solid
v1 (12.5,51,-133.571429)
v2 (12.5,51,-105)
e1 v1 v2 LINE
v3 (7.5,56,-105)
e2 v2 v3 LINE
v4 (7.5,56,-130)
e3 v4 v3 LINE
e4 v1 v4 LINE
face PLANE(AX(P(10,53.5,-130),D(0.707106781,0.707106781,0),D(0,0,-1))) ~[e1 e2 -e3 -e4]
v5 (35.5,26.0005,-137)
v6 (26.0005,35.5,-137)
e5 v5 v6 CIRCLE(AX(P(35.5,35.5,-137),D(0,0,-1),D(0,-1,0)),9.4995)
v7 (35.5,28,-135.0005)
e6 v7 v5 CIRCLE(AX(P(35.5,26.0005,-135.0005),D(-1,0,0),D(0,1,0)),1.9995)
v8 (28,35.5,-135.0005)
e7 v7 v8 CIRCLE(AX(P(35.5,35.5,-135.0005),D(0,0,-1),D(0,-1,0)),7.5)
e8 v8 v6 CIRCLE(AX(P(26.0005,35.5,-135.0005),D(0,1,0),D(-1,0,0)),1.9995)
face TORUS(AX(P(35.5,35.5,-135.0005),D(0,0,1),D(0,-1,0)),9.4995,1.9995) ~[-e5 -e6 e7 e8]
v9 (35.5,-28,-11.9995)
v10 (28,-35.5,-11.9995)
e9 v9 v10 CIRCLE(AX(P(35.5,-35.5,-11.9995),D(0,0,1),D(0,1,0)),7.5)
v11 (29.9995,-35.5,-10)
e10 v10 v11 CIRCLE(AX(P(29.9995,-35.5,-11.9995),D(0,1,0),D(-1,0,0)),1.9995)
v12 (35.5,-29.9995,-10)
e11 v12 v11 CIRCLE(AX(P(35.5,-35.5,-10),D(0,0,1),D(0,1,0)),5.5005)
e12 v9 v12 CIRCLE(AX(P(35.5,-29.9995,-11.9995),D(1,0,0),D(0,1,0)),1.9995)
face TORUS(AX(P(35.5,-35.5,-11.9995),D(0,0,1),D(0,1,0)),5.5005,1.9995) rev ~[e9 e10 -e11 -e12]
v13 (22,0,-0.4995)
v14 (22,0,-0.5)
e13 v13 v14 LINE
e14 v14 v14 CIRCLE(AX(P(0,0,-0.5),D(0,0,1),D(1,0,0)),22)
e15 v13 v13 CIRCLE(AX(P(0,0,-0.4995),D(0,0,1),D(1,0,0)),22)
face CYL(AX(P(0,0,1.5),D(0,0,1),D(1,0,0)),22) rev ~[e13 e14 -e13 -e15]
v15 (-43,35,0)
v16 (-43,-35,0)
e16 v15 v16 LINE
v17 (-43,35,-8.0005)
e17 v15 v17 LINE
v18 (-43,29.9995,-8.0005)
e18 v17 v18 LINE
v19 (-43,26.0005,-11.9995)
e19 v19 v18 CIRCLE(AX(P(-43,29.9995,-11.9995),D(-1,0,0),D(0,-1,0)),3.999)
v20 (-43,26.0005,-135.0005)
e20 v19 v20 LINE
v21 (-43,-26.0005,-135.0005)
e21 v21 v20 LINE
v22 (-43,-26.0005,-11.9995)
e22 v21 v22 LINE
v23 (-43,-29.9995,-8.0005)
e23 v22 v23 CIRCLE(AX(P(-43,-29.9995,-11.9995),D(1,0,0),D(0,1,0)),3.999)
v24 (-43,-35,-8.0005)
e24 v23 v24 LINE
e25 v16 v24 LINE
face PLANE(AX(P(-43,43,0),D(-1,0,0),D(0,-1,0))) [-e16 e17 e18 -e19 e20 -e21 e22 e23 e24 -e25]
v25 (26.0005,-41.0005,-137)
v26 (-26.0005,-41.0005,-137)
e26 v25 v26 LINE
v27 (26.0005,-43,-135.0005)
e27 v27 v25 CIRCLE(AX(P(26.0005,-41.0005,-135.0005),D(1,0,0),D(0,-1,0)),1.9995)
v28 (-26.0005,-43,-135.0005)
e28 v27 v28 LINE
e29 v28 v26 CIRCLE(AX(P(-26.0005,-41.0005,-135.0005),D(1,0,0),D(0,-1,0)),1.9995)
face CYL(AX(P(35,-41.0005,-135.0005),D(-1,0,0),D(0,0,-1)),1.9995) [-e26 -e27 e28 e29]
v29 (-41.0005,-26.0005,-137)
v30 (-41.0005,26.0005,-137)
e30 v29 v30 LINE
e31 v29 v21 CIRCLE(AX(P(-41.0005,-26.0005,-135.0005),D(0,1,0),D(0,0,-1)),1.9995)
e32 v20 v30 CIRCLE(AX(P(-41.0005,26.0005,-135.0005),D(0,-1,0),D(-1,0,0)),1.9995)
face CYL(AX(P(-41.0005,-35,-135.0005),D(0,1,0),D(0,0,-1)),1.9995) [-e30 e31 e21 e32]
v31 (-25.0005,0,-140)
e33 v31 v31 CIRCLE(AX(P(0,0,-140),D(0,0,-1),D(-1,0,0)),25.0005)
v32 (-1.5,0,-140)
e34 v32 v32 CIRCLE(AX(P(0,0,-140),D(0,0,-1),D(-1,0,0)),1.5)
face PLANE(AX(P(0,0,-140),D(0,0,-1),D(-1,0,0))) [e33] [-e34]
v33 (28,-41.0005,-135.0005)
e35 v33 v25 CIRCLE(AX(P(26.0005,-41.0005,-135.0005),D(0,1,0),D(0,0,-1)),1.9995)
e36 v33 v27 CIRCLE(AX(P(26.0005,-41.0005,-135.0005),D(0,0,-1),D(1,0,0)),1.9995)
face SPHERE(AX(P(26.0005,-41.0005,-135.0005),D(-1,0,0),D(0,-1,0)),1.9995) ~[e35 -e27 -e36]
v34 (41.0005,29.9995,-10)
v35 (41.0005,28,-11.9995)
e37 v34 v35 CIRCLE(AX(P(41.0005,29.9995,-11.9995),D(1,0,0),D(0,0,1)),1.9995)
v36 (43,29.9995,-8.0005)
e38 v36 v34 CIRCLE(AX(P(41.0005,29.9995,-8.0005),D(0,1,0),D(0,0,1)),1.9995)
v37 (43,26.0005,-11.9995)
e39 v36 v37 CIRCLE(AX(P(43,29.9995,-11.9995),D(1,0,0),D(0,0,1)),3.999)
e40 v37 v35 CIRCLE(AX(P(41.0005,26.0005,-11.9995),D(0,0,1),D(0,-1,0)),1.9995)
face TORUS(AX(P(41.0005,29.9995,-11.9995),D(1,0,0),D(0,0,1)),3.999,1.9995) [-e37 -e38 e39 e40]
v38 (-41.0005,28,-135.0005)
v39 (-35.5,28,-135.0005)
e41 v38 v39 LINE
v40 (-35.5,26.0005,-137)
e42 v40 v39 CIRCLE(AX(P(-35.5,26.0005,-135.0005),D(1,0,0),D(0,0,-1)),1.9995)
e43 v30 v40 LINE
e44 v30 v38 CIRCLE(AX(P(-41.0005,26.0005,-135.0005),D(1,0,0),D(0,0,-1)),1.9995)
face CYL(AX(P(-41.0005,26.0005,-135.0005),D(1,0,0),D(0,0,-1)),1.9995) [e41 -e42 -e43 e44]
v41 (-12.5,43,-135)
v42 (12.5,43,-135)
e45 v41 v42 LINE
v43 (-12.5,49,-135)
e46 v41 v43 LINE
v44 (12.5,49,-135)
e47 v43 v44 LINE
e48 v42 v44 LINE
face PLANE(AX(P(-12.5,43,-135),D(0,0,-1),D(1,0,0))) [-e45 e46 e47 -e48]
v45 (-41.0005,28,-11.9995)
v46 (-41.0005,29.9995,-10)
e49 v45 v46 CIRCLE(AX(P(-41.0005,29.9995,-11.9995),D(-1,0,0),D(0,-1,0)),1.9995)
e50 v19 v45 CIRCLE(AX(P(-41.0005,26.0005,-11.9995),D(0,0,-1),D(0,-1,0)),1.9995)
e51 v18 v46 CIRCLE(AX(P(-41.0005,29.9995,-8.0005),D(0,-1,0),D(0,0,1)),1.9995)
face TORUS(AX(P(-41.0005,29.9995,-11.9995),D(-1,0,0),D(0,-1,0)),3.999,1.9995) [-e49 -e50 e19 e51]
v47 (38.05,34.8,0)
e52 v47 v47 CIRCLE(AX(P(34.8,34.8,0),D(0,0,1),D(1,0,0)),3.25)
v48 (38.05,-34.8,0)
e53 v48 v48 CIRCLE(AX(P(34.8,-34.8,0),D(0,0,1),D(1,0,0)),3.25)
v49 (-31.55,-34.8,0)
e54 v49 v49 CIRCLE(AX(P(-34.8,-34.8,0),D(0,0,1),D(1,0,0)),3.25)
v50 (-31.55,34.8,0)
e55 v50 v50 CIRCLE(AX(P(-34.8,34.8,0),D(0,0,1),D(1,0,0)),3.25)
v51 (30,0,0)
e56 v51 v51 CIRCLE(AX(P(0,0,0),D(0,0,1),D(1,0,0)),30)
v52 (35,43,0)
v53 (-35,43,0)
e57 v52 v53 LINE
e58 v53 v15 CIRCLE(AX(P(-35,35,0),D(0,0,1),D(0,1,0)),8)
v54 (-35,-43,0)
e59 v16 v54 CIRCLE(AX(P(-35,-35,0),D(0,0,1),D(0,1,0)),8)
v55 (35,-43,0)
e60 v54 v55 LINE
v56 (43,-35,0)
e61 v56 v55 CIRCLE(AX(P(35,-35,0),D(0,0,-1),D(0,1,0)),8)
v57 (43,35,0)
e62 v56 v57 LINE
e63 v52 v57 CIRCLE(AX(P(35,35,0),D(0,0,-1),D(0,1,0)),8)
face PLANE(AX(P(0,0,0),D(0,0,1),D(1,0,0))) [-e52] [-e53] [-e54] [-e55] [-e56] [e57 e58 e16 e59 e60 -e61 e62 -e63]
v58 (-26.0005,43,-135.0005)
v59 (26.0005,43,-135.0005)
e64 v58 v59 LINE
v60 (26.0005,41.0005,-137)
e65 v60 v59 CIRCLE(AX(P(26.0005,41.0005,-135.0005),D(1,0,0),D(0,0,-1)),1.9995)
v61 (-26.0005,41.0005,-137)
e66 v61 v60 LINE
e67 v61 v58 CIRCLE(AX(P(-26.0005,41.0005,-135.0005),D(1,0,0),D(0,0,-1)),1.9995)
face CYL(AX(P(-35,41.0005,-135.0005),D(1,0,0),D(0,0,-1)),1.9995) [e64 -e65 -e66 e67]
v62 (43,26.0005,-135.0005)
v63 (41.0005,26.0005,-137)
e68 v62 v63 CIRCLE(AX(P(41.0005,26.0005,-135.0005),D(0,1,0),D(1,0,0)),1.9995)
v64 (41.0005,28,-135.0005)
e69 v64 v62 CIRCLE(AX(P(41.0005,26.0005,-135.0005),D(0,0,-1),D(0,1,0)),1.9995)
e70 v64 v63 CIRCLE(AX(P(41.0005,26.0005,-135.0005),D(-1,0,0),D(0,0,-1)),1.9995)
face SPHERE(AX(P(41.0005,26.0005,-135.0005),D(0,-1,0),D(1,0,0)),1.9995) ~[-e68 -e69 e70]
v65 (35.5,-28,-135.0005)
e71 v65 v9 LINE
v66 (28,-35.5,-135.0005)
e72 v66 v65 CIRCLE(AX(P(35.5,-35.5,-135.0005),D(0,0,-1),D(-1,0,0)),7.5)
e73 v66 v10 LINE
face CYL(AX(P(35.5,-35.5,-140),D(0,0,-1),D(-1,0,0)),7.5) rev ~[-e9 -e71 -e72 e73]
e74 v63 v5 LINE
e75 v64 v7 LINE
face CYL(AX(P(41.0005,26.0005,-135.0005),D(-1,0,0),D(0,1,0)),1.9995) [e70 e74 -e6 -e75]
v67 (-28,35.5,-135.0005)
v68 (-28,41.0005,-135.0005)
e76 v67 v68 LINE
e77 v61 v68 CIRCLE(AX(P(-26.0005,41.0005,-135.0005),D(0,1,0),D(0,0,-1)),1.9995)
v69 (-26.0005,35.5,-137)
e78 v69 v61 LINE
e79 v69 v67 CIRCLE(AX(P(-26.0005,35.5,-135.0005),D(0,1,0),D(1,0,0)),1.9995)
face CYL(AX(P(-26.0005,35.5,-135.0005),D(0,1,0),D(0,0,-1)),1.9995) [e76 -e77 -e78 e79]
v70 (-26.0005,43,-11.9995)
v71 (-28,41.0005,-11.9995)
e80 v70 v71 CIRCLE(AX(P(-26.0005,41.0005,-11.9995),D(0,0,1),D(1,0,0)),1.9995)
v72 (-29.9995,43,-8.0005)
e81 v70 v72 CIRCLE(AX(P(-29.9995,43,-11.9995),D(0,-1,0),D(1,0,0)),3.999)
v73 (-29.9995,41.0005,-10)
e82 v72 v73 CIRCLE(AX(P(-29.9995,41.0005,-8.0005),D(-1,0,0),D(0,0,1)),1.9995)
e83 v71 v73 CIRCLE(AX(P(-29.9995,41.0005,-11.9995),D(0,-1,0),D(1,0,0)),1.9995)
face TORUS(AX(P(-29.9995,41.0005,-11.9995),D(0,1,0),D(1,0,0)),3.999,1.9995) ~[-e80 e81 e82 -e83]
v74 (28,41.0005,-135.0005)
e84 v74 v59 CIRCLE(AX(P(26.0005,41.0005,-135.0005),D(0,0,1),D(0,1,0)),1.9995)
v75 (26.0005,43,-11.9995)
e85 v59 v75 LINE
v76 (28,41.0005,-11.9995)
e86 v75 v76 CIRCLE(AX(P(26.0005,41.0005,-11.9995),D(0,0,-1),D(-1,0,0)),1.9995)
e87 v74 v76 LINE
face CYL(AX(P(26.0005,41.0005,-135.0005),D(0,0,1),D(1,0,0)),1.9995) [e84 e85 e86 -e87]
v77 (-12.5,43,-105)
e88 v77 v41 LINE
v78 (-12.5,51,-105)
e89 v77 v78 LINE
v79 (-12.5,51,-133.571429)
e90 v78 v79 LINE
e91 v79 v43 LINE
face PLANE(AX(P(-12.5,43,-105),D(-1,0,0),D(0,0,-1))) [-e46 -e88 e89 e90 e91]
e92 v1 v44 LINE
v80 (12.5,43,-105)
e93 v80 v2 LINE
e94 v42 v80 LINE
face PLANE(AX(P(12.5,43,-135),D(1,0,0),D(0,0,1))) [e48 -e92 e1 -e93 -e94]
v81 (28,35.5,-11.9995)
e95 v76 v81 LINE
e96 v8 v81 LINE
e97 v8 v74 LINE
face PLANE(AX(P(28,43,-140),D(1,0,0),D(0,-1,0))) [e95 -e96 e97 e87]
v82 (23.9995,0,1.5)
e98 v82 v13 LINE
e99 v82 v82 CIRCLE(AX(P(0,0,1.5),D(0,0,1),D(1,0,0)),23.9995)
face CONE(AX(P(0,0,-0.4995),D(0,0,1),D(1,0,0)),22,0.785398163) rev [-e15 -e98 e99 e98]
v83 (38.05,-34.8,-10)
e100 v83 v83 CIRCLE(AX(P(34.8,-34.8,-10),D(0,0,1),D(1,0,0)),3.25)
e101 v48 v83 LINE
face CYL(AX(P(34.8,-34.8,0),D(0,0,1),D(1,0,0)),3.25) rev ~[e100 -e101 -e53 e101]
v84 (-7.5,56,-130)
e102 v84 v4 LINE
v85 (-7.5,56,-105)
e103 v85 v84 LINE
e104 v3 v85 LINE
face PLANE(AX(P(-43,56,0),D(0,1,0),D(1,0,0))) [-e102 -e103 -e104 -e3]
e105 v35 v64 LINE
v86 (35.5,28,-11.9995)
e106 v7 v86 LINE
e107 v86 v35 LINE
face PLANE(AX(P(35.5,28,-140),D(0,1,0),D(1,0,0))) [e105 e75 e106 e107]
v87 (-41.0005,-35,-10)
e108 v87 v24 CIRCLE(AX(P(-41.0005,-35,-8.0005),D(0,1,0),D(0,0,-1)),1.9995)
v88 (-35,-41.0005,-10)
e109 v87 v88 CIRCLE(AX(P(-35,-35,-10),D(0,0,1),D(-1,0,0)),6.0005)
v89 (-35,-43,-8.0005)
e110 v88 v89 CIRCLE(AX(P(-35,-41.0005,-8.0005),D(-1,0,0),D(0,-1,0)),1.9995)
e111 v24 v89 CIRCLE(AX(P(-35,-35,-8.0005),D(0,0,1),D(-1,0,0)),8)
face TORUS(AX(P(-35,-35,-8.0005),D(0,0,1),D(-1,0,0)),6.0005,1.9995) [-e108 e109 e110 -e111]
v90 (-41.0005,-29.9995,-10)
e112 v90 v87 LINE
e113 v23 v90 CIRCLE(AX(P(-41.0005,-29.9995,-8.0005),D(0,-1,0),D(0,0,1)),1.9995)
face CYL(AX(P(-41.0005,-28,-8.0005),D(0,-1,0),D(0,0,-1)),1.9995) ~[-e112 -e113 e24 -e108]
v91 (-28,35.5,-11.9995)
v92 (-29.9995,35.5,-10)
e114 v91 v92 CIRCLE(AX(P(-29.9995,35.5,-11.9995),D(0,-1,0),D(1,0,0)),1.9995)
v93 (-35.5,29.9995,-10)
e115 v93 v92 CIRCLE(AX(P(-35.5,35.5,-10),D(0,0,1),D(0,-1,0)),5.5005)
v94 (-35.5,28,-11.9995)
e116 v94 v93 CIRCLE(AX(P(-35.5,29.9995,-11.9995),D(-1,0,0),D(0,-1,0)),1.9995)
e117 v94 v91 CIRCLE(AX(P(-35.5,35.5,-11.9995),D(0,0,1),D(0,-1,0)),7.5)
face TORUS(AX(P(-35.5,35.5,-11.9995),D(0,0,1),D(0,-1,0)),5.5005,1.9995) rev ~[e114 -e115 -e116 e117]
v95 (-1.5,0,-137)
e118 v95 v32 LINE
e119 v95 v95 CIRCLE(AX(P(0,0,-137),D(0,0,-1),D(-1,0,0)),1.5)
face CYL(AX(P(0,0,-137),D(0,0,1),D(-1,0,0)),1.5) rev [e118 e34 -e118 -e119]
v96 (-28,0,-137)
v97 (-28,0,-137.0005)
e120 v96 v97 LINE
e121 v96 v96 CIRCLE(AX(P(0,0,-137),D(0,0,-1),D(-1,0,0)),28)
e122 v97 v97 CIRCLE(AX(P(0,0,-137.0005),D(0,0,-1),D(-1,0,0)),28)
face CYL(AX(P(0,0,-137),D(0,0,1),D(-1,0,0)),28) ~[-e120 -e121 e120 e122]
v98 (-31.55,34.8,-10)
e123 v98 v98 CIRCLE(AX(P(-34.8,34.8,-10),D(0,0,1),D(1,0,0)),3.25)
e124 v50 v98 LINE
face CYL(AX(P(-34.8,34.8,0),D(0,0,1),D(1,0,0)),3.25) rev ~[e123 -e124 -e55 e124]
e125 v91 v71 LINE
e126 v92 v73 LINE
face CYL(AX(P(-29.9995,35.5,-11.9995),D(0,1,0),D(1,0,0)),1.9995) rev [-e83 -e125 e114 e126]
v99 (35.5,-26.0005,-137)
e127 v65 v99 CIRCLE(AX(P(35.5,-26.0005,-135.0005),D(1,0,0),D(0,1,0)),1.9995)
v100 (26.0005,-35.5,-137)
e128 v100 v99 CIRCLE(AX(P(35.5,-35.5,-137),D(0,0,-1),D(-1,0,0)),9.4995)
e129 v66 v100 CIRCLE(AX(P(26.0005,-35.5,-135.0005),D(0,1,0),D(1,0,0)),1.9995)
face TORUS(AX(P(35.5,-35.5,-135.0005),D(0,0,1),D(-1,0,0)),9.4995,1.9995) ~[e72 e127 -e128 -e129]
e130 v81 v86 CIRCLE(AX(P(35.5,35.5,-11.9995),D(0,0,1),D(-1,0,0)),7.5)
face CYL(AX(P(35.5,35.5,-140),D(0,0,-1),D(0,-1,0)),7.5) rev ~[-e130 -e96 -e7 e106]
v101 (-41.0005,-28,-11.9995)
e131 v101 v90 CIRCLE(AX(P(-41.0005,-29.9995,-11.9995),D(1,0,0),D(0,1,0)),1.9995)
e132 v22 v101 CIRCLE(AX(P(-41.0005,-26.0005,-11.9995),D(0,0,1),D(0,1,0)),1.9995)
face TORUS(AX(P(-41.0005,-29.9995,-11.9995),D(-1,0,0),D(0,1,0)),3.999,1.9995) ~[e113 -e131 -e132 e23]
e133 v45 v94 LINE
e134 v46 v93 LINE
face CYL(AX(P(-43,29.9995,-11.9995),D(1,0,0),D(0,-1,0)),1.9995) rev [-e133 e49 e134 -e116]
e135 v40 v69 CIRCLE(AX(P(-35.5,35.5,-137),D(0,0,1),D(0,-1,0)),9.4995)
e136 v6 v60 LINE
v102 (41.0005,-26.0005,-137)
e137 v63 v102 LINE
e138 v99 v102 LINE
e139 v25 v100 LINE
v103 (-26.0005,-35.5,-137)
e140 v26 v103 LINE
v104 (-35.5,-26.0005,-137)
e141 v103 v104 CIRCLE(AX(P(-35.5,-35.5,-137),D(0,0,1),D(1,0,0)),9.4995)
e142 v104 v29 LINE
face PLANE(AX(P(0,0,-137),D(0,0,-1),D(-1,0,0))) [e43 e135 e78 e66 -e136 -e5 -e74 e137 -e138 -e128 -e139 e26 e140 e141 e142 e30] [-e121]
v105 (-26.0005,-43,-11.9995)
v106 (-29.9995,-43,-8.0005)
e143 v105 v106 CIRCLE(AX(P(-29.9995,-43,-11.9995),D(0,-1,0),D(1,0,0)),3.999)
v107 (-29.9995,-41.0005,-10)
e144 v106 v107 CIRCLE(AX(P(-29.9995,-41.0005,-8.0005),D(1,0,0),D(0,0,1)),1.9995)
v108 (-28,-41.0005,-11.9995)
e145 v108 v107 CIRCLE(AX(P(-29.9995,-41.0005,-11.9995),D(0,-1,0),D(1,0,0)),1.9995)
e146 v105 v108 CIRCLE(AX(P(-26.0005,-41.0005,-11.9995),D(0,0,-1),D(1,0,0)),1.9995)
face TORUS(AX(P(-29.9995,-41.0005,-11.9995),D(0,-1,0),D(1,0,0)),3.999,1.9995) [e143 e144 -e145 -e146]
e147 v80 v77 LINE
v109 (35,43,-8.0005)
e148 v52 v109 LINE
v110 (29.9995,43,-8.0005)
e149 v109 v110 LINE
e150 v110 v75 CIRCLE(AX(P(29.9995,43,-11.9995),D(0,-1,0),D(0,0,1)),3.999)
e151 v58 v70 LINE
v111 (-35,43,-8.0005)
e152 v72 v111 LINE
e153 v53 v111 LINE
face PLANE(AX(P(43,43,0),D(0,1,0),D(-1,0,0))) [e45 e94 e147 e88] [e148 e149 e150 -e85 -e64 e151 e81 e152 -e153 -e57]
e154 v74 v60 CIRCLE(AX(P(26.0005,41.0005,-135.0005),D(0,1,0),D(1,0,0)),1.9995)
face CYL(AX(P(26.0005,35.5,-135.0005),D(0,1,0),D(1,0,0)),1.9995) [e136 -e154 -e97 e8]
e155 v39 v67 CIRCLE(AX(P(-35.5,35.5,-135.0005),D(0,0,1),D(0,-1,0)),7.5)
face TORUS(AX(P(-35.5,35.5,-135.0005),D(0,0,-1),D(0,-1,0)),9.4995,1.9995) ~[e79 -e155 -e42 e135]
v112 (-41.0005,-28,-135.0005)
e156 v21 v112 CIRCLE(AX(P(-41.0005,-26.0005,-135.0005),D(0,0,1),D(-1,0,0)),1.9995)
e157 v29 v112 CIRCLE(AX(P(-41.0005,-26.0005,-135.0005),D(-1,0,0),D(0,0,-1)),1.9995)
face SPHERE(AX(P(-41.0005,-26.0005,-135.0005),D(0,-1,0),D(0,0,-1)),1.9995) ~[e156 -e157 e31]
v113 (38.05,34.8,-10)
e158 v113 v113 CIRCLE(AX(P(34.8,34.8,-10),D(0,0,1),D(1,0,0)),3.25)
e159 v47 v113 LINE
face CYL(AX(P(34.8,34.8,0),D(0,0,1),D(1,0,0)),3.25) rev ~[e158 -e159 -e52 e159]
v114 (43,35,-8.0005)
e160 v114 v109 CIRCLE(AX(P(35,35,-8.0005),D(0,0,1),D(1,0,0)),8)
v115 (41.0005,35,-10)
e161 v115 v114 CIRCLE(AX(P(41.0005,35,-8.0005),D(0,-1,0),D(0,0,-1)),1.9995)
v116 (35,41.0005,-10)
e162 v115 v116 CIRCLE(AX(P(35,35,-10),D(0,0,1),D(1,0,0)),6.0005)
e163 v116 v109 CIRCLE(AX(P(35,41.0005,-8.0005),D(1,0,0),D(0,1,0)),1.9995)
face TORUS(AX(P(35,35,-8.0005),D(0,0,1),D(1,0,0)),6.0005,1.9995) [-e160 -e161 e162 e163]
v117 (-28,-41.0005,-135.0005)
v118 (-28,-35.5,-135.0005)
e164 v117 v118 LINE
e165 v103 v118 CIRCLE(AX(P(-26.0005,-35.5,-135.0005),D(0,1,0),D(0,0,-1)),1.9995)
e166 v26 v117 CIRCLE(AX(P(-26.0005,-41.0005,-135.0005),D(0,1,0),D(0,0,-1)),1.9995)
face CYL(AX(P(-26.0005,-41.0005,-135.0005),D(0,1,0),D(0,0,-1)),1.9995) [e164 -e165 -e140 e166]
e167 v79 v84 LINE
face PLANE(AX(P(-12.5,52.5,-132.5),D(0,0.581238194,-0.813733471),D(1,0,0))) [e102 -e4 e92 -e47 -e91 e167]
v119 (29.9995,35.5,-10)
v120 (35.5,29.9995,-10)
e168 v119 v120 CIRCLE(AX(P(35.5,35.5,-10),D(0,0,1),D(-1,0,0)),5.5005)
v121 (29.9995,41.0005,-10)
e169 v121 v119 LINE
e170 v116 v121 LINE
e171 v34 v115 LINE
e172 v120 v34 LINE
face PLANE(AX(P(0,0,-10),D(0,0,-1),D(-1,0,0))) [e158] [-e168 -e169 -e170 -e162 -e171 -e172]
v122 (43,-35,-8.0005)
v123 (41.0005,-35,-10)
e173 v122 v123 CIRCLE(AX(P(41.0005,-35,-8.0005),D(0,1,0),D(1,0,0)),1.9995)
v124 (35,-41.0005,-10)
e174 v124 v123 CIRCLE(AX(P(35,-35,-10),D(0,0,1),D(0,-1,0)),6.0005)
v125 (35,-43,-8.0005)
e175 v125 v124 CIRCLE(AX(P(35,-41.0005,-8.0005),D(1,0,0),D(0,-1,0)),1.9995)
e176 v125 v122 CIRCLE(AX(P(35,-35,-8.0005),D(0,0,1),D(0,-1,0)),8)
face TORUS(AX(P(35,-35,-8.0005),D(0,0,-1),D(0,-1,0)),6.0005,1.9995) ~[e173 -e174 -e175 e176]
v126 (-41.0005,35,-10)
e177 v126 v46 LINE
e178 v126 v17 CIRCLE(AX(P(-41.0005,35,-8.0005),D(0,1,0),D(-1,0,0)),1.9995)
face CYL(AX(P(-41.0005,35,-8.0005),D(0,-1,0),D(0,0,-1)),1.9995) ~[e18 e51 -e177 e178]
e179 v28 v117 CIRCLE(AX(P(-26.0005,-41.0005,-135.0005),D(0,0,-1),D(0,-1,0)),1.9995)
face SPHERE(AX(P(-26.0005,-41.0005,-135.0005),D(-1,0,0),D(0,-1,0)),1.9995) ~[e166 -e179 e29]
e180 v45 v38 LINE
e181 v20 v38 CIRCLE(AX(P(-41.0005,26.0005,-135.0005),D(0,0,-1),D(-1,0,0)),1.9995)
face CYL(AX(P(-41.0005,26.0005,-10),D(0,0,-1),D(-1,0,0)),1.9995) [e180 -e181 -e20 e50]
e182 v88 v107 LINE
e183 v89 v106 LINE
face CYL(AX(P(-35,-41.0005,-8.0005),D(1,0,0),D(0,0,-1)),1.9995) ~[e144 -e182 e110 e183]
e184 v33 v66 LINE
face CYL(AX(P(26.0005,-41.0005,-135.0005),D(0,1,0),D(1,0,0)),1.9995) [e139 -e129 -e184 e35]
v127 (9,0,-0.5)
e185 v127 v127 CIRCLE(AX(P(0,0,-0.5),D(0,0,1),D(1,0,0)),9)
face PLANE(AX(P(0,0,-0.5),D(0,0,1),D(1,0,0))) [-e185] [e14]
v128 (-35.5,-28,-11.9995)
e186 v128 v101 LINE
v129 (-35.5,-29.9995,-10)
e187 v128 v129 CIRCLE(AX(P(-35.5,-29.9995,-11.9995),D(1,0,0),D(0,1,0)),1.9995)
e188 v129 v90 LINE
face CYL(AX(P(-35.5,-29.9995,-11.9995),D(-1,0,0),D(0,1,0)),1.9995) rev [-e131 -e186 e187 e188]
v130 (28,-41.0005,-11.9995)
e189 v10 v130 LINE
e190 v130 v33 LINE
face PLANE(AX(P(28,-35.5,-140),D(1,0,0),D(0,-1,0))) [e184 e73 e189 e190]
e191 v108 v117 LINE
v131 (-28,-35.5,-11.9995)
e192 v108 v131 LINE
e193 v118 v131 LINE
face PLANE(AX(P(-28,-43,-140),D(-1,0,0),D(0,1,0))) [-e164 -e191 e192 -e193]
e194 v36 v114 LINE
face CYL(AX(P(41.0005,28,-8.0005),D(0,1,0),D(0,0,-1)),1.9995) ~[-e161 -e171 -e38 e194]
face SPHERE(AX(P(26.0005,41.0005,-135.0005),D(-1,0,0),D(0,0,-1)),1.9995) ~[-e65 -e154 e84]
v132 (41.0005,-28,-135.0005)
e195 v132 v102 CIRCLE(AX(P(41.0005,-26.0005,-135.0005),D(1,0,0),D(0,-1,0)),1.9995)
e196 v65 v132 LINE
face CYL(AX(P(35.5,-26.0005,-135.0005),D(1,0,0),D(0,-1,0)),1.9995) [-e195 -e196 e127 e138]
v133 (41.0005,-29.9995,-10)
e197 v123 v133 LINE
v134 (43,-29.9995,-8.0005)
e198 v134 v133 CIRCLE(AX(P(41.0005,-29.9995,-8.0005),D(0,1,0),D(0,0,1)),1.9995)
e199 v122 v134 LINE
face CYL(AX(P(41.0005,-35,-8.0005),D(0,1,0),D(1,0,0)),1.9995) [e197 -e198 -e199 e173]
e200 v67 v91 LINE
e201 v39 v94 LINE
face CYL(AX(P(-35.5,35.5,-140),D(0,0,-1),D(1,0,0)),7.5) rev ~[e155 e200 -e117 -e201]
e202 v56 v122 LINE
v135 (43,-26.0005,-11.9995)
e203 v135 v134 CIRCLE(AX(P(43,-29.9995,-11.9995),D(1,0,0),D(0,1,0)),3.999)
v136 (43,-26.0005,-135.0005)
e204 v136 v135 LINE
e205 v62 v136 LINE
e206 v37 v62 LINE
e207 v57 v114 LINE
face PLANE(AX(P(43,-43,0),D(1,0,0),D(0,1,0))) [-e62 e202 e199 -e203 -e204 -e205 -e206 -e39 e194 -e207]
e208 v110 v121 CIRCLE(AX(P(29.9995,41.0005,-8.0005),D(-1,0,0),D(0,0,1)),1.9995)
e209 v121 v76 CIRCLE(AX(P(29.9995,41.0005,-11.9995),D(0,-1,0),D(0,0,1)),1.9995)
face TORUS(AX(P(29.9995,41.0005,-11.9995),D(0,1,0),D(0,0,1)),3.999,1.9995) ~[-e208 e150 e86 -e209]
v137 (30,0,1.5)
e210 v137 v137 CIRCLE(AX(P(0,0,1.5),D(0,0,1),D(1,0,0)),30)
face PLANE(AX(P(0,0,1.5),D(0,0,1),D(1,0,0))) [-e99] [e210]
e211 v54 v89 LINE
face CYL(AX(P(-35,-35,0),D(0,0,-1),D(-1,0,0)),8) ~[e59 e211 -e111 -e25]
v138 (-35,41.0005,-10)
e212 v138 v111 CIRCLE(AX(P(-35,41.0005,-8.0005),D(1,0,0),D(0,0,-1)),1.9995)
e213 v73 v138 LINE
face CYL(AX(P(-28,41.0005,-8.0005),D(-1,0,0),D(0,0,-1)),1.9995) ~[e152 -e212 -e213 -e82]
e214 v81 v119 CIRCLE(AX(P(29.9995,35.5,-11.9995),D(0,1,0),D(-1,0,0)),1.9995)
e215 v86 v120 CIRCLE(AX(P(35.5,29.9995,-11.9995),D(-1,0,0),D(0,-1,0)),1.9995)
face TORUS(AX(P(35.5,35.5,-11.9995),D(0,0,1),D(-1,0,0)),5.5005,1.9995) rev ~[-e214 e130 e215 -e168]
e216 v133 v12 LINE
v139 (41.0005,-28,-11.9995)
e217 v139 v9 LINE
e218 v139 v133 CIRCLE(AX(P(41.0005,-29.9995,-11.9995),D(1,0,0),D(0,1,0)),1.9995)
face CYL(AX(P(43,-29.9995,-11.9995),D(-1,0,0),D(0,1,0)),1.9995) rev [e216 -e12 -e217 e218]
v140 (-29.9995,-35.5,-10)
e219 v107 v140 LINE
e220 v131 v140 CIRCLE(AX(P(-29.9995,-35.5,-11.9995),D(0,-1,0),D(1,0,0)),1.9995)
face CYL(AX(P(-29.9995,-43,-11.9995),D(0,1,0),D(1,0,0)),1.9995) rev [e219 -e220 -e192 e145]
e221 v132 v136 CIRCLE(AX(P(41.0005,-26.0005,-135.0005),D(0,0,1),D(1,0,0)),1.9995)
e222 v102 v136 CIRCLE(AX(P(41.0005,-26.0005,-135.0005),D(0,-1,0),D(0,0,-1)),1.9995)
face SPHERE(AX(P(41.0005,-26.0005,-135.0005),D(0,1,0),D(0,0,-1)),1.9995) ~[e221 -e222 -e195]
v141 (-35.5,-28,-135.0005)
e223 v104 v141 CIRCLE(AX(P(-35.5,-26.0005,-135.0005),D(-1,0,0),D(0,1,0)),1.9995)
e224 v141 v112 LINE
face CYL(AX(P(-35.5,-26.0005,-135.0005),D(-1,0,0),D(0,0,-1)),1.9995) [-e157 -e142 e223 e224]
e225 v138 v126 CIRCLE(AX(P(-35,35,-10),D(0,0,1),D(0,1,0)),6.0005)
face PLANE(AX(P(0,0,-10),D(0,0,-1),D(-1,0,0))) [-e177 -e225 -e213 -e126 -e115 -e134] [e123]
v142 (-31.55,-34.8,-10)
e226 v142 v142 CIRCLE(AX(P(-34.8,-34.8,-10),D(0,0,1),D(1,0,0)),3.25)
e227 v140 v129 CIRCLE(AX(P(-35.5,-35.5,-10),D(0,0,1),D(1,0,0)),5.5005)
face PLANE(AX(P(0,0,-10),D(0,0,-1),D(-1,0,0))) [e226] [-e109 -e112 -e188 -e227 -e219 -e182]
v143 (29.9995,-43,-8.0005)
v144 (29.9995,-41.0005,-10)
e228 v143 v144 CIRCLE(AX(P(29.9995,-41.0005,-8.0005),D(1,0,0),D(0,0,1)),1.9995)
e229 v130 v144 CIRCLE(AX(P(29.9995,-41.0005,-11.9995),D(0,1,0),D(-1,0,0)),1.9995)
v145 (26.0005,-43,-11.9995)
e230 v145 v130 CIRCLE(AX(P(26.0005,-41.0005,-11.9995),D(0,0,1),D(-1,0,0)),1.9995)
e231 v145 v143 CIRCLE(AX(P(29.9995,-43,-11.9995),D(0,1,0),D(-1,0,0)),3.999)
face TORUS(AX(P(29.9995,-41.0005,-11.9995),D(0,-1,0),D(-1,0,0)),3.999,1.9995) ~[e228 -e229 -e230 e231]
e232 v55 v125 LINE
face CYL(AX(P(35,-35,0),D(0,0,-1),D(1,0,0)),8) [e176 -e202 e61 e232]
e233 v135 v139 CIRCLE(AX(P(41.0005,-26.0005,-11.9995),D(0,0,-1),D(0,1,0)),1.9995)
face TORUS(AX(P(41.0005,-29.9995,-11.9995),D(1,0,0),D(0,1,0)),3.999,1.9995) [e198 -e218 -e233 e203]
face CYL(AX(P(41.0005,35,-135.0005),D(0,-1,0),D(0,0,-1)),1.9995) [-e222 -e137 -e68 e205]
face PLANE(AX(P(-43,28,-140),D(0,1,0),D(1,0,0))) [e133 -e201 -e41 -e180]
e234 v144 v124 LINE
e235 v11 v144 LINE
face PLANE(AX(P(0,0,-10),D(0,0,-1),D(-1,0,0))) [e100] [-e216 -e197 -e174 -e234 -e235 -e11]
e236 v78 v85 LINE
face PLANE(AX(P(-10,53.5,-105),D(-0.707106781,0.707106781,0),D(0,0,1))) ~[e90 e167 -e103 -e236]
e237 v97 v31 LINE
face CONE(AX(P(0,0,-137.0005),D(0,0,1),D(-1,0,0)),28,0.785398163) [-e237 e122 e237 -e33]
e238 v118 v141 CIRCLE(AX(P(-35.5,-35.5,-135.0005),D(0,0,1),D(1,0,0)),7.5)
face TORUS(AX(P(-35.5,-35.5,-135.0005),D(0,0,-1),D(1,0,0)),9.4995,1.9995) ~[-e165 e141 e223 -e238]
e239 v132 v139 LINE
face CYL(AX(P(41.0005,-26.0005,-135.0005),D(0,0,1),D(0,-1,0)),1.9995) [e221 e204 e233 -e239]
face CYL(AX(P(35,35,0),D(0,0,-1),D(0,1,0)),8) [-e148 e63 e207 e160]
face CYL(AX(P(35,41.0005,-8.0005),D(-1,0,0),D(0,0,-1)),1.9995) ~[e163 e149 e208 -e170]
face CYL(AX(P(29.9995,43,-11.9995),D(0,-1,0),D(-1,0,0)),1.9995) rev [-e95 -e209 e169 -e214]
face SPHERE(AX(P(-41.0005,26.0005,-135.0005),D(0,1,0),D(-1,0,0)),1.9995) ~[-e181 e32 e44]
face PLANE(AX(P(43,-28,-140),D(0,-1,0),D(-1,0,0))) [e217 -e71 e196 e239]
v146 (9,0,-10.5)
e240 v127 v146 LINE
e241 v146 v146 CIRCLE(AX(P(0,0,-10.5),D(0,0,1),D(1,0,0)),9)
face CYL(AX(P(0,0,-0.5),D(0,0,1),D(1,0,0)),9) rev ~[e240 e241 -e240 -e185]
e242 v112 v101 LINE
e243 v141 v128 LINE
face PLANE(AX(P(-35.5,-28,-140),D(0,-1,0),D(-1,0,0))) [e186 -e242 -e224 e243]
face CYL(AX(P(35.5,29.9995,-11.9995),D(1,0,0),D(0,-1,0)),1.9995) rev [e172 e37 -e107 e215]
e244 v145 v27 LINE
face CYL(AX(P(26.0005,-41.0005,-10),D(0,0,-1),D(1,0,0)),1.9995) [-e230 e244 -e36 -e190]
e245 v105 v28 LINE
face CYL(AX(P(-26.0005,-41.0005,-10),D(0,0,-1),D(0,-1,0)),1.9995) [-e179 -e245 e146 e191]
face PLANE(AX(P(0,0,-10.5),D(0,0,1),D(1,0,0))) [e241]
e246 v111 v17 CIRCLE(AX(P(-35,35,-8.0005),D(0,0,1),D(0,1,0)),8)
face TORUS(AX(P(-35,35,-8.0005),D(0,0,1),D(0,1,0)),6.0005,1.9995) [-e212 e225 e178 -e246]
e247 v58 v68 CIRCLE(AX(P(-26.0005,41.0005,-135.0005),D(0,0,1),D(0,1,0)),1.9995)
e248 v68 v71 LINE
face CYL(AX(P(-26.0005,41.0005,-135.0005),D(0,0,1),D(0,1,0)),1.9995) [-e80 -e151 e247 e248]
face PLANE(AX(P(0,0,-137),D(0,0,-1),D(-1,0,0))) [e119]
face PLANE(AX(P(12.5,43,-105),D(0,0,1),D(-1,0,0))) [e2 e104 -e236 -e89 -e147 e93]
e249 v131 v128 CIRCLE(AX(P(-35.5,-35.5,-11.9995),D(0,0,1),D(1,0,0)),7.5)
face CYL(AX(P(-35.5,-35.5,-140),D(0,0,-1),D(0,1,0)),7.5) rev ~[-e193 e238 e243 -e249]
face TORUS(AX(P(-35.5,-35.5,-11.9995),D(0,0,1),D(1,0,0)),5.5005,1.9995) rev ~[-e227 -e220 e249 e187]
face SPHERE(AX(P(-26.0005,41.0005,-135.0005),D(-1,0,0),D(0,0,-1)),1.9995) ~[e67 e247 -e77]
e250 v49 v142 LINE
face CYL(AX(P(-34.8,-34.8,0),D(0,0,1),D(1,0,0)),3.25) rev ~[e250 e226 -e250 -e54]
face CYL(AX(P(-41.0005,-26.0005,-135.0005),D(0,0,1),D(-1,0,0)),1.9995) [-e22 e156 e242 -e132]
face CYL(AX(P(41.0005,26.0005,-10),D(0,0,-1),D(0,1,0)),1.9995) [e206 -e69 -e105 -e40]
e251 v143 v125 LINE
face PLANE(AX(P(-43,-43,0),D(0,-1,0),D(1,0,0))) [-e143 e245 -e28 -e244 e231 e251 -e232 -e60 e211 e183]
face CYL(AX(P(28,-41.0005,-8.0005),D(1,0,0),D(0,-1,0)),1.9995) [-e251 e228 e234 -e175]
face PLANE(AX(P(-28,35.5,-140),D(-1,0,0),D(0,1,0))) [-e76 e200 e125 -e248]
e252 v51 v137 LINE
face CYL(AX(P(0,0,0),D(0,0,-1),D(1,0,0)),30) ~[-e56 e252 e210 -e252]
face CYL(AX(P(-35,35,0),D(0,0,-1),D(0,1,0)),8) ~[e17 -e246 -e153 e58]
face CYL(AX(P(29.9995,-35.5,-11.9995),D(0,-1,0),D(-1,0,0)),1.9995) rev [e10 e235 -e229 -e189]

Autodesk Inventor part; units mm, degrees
ref_plane "YZ Plane" through (0, 0, 0) normal (1, 0, 0) x (0, 1, 0)
ref_plane "XZ Plane" through (0, 0, 0) normal (0, 1, 0) x (-1, 0, 0)
sketch "Sketch1" plane through (0, 0, 0) normal (0, 0, 1) x (1, 0, 0)
  line L0 (-43, -43) -> (43, -43)
  line L1 (43, -43) -> (43, 43)
  line L2 (43, 43) -> (-43, 43)
  line L3 (-43, 43) -> (-43, -43)
  point P0 (0, 0)
  point P1 (-43, 0)
  point P2 (0, 43)
  dimension "d0" = 86
  dimension "d1" = 86
extrude "Extrusion1" add sketch "Sketch1" against normal blind 140
sketch "Sketch2" plane through (0, 0, 0) normal (0, 0, 1) x (1, 0, 0)
  line L0 (-43, 43) -> (43, 43) construction
  line L1 (0, 43) -> (0, -43) construction
  line L2 (43, -43) -> (0, -43) construction
  line L3 (43, 43) -> (43, -43) construction
  line L4 (43, 0) -> (-43, 0) construction
  line L5 (-43, 0) -> (-43, 43) construction
  circle A0 centre (0, 0) radius 30
  point P0 (0, 0)
  dimension "d5" = 60
extrude "Extrusion2" add sketch "Sketch2" along normal blind 1.5
sketch "Sketch3" plane through (0, 0, 1.5) normal (0, 0, 1) x (1, 0, 0)
  line L0 (43, 43) -> (-43, 43) construction
  line L1 (0, 43) -> (0, -43) construction
  line L2 (0, -43) -> (43, -43) construction
  line L3 (43, -43) -> (43, 43) construction
  line L4 (43, 0) -> (-43, 0) construction
  line L5 (-43, 43) -> (-43, 0) construction
  circle A0 centre (0, 0) radius 30 projected
  circle A1 centre (0, 0) radius 7
  point P0 (0, 0)
  dimension "d8" = 14
extrude "Extrusion3" add sketch "Sketch3" along normal blind 40 contours A1
hole "Hole1" at (0, 0, 41.5) direction (0, 0, -1) diameter 3 depth 13
ref_plane "Work Plane1" through (-7, 0, 1.5) normal (1, 0, 0) x (0, 1, 0)
sketch "Sketch5" plane through (-7, 0, 1.5) normal (1, 0, 0) x (0, 1, 0)
  line L0 (7, 40) -> (-7, 40) projected
  line L1 (-7, 0) -> (7, 0) projected
  line L2 (7, 0) -> (7, 40) projected
  line L3 (-7, 0) -> (-7, 40) projected
  line L4 (7, 40) -> (-7, 40) projected
  line L5 (-2.5, 17.5) -> (-2.5, 40)
  line L6 (-2.5, 40) -> (2.5, 40)
  line L7 (2.5, 40) -> (2.5, 17.5)
  line L8 (30, 0) -> (-30, 0) construction
  arc A0 (-2.5, 17.5) -> (2.5, 17.5) centre (0, 17.5) ccw
  point P0 (0, -1.5)
  point P1 (0, 15)
extrude "Extrusion4" cut sketch "Sketch5" along normal blind 2.438 contours L7 A0 L5 L0
sketch "Sketch6" plane through (0, 0, -140) normal (0, 0, -1) x (-1, 0, 0)
  circle A0 centre (0, 0) radius 30 projected
  line L0 (-43, 43) -> (-28, 43)
  line L1 (-28, 43) -> (-28, 35.5)
  line L2 (-35.5, 28) -> (-43, 28)
  line L3 (-43, 28) -> (-43, 43)
  arc A1 (-35.5, 28) -> (-28, 35.5) centre (-35.5, 35.5) ccw
  line L4 (-43, -43) -> (-43, -28)
  line L5 (-43, -28) -> (-35.5, -28)
  line L6 (-28, -35.5) -> (-28, -43)
  line L7 (-28, -43) -> (-43, -43)
  arc A2 (-28, -35.5) -> (-35.5, -28) centre (-35.5, -35.5) ccw
  line L8 (43, -43) -> (28, -43)
  line L9 (28, -43) -> (28, -35.5)
  line L10 (35.5, -28) -> (43, -28)
  line L11 (43, -28) -> (43, -43)
  arc A3 (35.5, -28) -> (28, -35.5) centre (35.5, -35.5) ccw
  line L12 (43, 43) -> (43, 28)
  line L13 (43, 28) -> (35.5, 28)
  line L14 (28, 35.5) -> (28, 43)
  line L15 (28, 43) -> (43, 43)
  arc A4 (28, 35.5) -> (35.5, 28) centre (35.5, 35.5) ccw
  dimension "d71" = 15
  dimension "d72" = 15
  dimension "d75" = 360
sketch "Sketch7" plane through (0, 0, 0) normal (0, 0, 1) x (1, 0, 0)
  circle A0 centre (-34.8, -34.8) radius 3.25
  arc A1 (-6.5383, -2.5) -> (-6.5383, 2.5) centre (0, 0) ccw projected
  circle A2 centre (0, 0) radius 1.5 projected
  circle A3 centre (0, 0) radius 30 projected
  circle A4 centre (0, 0) radius 7 projected
  circle A5 centre (0, 0) radius 30 projected
  line L0 (43, 43) -> (-43, 43) construction
  line L1 (0, 43) -> (0, -43) construction
  line L2 (0, -43) -> (43, -43) construction
  line L3 (-43, 43) -> (-43, 0) construction
  line L4 (-43, 0) -> (43, 0) construction
  line L5 (43, -43) -> (43, 43) construction
  circle A6 centre (-34.8, 34.8) radius 3.25
  circle A7 centre (34.8, -34.8) radius 3.25
  circle A8 centre (34.8, 34.8) radius 3.25
  point P0 (0, 0)
  dimension "d36" = 6.5
  dimension "d37" = 69.6
  dimension "d38" = 69.6
extrude "Extrusion6" cut sketch "Sketch7" against normal through all contours A0 | A6 | A7 | A8
sketch "Sketch8" plane through (-43, 43, 0) normal (0, 1, 0) x (1, 0, 0)
  line L0 (30.5, 135) -> (55.5, 135)
  line L1 (55.5, 135) -> (55.5, 105)
  line L2 (55.5, 105) -> (30.5, 105)
  line L3 (30.5, 105) -> (30.5, 135)
  line L4 (0, 140) -> (86, 140) projected
  line L5 (43, 135) -> (43, 105) construction
  point P0 (43, 0)
  point P1 (61, 140)
  dimension "d41" = 25
  dimension "d42" = 30
  dimension "d43" = 5
extrude "Extrusion7" add sketch "Sketch8" along normal blind 13
chamfer "Chamfer1" distance 5 distance2 7 1 edges at (0, 56, -135) measured on face at (-4.1667, 56, -125)
fillet "Fillet1" radius 8 4 edges at (-43, 43, -70) (43, 43, -70) (-43, -43, -70) (43, -43, -70)
chamfer "Chamfer2" distance 5 angle 45 2 edges at (-12.5, 56, -117.5) (12.5, 56, -117.5)
chamfer "Chamfer3" distance 1 angle 45 2 edges at (1.2711, -6.8836, 41.5) (1.2711, 6.8836, 41.5)
sketch "Sketch9" plane through (0, 0, -140) normal (0, 0, -1) x (-1, 0, 0)
  line L0 (43, -35) -> (43, 35) projected
  line L1 (35, 43) -> (-35, 43) projected
  line L2 (-43, 35) -> (-43, -35) projected
  line L3 (-35, -43) -> (35, -43) projected
  arc A0 (-43, -35) -> (-35, -43) centre (-35, -35) ccw projected
  arc A1 (35, -43) -> (43, -35) centre (35, -35) ccw projected
  arc A2 (43, 35) -> (35, 43) centre (35, 35) ccw projected
  arc A3 (-35, 43) -> (-43, 35) centre (-35, 35) ccw projected
  point P0 (0, 0)
extrude "Extrusion8" cut sketch "Sketch9" against normal blind 3
sketch "Sketch10" plane through (0, 0, -137) normal (0, 0, -1) x (-1, 0, 0)
  circle A0 centre (0, 0) radius 1.5 projected
  circle A1 centre (0, 0) radius 28
  point P0 (0, 0)
  dimension "d61" = 56
extrude "Extrusion9" add sketch "Sketch10" along normal blind 3
chamfer "Chamfer4" distance 3 angle 45 1 edges at (28, 0, -140)
fillet "Fillet3" radius 2 4 edges at (43, 0, -137) (0, 43, -137) (-43, 0, -137) (0, -43, -137)
extrude "Extrusion10" cut sketch "Sketch6" against normal blind 130 contours L0 L1 A1 L2 L3 | L4 L5 A2 L6 L7 | L8 L9 A3 L10 L11 | L12 L13 A4 L14 L15
fillet "Fillet4" radius 2 52 edges at (-28, 42.4144, -136.4144) (-28, 38.2503, -137) (-30.1967, 30.1967, -137) (-38.2502, 28, -137) (-42.4144, 28, -136.4144) (-43, 28, -72.5002) (-28, 43, -72.5002) (-43, 31.5, -10) (-31.5, 43, -10) (-40.6569, 40.6569, -10) (-42.4144, -28, -136.4144) (-38.2502, -28, -137) (-30.1967, -30.1967, -137) (-28, -38.2502, -137) (-28, -42.4144, -136.4144) (-28, -43, -72.5002) (-43, -28, -72.5002) (-31.5, -43, -10) (-43, -31.5, -10) (-40.6569, -40.6569, -10) (-39.25, -28, -10) (-28, -39.25, -10) (-30.1967, -30.1967, -10) (-28, 39.25, -10) (-39.25, 28, -10) (-30.1967, 30.1967, -10) (39.25, 28, -10) (28, 39.25, -10) (30.1967, 30.1967, -10) (31.5, 43, -10) (43, 31.5, -10) (40.6569, 40.6569, -10) (28, 42.4144, -136.4144) (28, 38.2503, -137) (30.1967, 30.1967, -137) (38.2503, 28, -137) (42.4144, 28, -136.4144) (43, 28, -72.5002) (28, 43, -72.5002) (43, -31.5, -10) (31.5, -43, -10) (40.6569, -40.6569, -10) (28, -39.25, -10) (39.25, -28, -10) (30.1967, -30.1967, -10) (42.4144, -28, -136.4144) (38.2503, -28, -137) (30.1967, -30.1967, -137) (28, -38.2502, -137) (28, -42.4144, -136.4144) (28, -43, -72.5002) (43, -28, -72.5002)
sketch "Sketch11" plane through (0, 0, 1.5) normal (0, 0, 1) x (1, 0, 0)
  circle A0 centre (0, 0) radius 30 projected
  circle A1 centre (0, 0) radius 22
  point P0 (0, 0)
  dimension "d81" = 8
extrude "Extrusion11" cut sketch "Sketch11" against normal blind 2 contours A1
chamfer "Chamfer5" distance 2 angle 45 1 edges at (-22, 0, 1.5) measured on face at (27.0428, -2.3932, 1.5)
sketch "Sketch13" plane through (0, 0, -0.5) normal (0, 0, 1) x (1, 0, 0)
  circle A0 centre (0, 0) radius 22 projected
  circle A1 centre (0, 0) radius 9
  circle A2 centre (0, 0) radius 1.5 projected
  circle A3 centre (0, 0) radius 7 projected
  circle A4 centre (0, 0) radius 1.5 projected
  circle A5 centre (0, 0) radius 7
  point P0 (0, 0)
  dimension "d90" = 13
extrude "Extrusion13" cut sketch "Sketch13" against normal blind 10 contours A1 | A2 | A3
sketch "Sketch14" plane through (0, 0, 41.5) normal (0, 0, 1) x (1, 0, 0)
  circle A0 centre (0, 0) radius 1.5 projected
  circle A1 centre (0, 0) radius 7
  point P0 (0, 0)
extrude "Extrusion14" cut sketch "Sketch14" against normal up to surface (52 mm away)
sketch "Sketch15" plane through (0, 0, 28.5) normal (0, 0, 1) x (1, 0, 0)
  circle A0 centre (0, 0) radius 1.5 projected
  circle A1 centre (0, 0) radius 1.5
  point P0 (0, 0)
extrude "Extrusion15" cut sketch "Sketch15" against normal up to surface (39 mm away)
